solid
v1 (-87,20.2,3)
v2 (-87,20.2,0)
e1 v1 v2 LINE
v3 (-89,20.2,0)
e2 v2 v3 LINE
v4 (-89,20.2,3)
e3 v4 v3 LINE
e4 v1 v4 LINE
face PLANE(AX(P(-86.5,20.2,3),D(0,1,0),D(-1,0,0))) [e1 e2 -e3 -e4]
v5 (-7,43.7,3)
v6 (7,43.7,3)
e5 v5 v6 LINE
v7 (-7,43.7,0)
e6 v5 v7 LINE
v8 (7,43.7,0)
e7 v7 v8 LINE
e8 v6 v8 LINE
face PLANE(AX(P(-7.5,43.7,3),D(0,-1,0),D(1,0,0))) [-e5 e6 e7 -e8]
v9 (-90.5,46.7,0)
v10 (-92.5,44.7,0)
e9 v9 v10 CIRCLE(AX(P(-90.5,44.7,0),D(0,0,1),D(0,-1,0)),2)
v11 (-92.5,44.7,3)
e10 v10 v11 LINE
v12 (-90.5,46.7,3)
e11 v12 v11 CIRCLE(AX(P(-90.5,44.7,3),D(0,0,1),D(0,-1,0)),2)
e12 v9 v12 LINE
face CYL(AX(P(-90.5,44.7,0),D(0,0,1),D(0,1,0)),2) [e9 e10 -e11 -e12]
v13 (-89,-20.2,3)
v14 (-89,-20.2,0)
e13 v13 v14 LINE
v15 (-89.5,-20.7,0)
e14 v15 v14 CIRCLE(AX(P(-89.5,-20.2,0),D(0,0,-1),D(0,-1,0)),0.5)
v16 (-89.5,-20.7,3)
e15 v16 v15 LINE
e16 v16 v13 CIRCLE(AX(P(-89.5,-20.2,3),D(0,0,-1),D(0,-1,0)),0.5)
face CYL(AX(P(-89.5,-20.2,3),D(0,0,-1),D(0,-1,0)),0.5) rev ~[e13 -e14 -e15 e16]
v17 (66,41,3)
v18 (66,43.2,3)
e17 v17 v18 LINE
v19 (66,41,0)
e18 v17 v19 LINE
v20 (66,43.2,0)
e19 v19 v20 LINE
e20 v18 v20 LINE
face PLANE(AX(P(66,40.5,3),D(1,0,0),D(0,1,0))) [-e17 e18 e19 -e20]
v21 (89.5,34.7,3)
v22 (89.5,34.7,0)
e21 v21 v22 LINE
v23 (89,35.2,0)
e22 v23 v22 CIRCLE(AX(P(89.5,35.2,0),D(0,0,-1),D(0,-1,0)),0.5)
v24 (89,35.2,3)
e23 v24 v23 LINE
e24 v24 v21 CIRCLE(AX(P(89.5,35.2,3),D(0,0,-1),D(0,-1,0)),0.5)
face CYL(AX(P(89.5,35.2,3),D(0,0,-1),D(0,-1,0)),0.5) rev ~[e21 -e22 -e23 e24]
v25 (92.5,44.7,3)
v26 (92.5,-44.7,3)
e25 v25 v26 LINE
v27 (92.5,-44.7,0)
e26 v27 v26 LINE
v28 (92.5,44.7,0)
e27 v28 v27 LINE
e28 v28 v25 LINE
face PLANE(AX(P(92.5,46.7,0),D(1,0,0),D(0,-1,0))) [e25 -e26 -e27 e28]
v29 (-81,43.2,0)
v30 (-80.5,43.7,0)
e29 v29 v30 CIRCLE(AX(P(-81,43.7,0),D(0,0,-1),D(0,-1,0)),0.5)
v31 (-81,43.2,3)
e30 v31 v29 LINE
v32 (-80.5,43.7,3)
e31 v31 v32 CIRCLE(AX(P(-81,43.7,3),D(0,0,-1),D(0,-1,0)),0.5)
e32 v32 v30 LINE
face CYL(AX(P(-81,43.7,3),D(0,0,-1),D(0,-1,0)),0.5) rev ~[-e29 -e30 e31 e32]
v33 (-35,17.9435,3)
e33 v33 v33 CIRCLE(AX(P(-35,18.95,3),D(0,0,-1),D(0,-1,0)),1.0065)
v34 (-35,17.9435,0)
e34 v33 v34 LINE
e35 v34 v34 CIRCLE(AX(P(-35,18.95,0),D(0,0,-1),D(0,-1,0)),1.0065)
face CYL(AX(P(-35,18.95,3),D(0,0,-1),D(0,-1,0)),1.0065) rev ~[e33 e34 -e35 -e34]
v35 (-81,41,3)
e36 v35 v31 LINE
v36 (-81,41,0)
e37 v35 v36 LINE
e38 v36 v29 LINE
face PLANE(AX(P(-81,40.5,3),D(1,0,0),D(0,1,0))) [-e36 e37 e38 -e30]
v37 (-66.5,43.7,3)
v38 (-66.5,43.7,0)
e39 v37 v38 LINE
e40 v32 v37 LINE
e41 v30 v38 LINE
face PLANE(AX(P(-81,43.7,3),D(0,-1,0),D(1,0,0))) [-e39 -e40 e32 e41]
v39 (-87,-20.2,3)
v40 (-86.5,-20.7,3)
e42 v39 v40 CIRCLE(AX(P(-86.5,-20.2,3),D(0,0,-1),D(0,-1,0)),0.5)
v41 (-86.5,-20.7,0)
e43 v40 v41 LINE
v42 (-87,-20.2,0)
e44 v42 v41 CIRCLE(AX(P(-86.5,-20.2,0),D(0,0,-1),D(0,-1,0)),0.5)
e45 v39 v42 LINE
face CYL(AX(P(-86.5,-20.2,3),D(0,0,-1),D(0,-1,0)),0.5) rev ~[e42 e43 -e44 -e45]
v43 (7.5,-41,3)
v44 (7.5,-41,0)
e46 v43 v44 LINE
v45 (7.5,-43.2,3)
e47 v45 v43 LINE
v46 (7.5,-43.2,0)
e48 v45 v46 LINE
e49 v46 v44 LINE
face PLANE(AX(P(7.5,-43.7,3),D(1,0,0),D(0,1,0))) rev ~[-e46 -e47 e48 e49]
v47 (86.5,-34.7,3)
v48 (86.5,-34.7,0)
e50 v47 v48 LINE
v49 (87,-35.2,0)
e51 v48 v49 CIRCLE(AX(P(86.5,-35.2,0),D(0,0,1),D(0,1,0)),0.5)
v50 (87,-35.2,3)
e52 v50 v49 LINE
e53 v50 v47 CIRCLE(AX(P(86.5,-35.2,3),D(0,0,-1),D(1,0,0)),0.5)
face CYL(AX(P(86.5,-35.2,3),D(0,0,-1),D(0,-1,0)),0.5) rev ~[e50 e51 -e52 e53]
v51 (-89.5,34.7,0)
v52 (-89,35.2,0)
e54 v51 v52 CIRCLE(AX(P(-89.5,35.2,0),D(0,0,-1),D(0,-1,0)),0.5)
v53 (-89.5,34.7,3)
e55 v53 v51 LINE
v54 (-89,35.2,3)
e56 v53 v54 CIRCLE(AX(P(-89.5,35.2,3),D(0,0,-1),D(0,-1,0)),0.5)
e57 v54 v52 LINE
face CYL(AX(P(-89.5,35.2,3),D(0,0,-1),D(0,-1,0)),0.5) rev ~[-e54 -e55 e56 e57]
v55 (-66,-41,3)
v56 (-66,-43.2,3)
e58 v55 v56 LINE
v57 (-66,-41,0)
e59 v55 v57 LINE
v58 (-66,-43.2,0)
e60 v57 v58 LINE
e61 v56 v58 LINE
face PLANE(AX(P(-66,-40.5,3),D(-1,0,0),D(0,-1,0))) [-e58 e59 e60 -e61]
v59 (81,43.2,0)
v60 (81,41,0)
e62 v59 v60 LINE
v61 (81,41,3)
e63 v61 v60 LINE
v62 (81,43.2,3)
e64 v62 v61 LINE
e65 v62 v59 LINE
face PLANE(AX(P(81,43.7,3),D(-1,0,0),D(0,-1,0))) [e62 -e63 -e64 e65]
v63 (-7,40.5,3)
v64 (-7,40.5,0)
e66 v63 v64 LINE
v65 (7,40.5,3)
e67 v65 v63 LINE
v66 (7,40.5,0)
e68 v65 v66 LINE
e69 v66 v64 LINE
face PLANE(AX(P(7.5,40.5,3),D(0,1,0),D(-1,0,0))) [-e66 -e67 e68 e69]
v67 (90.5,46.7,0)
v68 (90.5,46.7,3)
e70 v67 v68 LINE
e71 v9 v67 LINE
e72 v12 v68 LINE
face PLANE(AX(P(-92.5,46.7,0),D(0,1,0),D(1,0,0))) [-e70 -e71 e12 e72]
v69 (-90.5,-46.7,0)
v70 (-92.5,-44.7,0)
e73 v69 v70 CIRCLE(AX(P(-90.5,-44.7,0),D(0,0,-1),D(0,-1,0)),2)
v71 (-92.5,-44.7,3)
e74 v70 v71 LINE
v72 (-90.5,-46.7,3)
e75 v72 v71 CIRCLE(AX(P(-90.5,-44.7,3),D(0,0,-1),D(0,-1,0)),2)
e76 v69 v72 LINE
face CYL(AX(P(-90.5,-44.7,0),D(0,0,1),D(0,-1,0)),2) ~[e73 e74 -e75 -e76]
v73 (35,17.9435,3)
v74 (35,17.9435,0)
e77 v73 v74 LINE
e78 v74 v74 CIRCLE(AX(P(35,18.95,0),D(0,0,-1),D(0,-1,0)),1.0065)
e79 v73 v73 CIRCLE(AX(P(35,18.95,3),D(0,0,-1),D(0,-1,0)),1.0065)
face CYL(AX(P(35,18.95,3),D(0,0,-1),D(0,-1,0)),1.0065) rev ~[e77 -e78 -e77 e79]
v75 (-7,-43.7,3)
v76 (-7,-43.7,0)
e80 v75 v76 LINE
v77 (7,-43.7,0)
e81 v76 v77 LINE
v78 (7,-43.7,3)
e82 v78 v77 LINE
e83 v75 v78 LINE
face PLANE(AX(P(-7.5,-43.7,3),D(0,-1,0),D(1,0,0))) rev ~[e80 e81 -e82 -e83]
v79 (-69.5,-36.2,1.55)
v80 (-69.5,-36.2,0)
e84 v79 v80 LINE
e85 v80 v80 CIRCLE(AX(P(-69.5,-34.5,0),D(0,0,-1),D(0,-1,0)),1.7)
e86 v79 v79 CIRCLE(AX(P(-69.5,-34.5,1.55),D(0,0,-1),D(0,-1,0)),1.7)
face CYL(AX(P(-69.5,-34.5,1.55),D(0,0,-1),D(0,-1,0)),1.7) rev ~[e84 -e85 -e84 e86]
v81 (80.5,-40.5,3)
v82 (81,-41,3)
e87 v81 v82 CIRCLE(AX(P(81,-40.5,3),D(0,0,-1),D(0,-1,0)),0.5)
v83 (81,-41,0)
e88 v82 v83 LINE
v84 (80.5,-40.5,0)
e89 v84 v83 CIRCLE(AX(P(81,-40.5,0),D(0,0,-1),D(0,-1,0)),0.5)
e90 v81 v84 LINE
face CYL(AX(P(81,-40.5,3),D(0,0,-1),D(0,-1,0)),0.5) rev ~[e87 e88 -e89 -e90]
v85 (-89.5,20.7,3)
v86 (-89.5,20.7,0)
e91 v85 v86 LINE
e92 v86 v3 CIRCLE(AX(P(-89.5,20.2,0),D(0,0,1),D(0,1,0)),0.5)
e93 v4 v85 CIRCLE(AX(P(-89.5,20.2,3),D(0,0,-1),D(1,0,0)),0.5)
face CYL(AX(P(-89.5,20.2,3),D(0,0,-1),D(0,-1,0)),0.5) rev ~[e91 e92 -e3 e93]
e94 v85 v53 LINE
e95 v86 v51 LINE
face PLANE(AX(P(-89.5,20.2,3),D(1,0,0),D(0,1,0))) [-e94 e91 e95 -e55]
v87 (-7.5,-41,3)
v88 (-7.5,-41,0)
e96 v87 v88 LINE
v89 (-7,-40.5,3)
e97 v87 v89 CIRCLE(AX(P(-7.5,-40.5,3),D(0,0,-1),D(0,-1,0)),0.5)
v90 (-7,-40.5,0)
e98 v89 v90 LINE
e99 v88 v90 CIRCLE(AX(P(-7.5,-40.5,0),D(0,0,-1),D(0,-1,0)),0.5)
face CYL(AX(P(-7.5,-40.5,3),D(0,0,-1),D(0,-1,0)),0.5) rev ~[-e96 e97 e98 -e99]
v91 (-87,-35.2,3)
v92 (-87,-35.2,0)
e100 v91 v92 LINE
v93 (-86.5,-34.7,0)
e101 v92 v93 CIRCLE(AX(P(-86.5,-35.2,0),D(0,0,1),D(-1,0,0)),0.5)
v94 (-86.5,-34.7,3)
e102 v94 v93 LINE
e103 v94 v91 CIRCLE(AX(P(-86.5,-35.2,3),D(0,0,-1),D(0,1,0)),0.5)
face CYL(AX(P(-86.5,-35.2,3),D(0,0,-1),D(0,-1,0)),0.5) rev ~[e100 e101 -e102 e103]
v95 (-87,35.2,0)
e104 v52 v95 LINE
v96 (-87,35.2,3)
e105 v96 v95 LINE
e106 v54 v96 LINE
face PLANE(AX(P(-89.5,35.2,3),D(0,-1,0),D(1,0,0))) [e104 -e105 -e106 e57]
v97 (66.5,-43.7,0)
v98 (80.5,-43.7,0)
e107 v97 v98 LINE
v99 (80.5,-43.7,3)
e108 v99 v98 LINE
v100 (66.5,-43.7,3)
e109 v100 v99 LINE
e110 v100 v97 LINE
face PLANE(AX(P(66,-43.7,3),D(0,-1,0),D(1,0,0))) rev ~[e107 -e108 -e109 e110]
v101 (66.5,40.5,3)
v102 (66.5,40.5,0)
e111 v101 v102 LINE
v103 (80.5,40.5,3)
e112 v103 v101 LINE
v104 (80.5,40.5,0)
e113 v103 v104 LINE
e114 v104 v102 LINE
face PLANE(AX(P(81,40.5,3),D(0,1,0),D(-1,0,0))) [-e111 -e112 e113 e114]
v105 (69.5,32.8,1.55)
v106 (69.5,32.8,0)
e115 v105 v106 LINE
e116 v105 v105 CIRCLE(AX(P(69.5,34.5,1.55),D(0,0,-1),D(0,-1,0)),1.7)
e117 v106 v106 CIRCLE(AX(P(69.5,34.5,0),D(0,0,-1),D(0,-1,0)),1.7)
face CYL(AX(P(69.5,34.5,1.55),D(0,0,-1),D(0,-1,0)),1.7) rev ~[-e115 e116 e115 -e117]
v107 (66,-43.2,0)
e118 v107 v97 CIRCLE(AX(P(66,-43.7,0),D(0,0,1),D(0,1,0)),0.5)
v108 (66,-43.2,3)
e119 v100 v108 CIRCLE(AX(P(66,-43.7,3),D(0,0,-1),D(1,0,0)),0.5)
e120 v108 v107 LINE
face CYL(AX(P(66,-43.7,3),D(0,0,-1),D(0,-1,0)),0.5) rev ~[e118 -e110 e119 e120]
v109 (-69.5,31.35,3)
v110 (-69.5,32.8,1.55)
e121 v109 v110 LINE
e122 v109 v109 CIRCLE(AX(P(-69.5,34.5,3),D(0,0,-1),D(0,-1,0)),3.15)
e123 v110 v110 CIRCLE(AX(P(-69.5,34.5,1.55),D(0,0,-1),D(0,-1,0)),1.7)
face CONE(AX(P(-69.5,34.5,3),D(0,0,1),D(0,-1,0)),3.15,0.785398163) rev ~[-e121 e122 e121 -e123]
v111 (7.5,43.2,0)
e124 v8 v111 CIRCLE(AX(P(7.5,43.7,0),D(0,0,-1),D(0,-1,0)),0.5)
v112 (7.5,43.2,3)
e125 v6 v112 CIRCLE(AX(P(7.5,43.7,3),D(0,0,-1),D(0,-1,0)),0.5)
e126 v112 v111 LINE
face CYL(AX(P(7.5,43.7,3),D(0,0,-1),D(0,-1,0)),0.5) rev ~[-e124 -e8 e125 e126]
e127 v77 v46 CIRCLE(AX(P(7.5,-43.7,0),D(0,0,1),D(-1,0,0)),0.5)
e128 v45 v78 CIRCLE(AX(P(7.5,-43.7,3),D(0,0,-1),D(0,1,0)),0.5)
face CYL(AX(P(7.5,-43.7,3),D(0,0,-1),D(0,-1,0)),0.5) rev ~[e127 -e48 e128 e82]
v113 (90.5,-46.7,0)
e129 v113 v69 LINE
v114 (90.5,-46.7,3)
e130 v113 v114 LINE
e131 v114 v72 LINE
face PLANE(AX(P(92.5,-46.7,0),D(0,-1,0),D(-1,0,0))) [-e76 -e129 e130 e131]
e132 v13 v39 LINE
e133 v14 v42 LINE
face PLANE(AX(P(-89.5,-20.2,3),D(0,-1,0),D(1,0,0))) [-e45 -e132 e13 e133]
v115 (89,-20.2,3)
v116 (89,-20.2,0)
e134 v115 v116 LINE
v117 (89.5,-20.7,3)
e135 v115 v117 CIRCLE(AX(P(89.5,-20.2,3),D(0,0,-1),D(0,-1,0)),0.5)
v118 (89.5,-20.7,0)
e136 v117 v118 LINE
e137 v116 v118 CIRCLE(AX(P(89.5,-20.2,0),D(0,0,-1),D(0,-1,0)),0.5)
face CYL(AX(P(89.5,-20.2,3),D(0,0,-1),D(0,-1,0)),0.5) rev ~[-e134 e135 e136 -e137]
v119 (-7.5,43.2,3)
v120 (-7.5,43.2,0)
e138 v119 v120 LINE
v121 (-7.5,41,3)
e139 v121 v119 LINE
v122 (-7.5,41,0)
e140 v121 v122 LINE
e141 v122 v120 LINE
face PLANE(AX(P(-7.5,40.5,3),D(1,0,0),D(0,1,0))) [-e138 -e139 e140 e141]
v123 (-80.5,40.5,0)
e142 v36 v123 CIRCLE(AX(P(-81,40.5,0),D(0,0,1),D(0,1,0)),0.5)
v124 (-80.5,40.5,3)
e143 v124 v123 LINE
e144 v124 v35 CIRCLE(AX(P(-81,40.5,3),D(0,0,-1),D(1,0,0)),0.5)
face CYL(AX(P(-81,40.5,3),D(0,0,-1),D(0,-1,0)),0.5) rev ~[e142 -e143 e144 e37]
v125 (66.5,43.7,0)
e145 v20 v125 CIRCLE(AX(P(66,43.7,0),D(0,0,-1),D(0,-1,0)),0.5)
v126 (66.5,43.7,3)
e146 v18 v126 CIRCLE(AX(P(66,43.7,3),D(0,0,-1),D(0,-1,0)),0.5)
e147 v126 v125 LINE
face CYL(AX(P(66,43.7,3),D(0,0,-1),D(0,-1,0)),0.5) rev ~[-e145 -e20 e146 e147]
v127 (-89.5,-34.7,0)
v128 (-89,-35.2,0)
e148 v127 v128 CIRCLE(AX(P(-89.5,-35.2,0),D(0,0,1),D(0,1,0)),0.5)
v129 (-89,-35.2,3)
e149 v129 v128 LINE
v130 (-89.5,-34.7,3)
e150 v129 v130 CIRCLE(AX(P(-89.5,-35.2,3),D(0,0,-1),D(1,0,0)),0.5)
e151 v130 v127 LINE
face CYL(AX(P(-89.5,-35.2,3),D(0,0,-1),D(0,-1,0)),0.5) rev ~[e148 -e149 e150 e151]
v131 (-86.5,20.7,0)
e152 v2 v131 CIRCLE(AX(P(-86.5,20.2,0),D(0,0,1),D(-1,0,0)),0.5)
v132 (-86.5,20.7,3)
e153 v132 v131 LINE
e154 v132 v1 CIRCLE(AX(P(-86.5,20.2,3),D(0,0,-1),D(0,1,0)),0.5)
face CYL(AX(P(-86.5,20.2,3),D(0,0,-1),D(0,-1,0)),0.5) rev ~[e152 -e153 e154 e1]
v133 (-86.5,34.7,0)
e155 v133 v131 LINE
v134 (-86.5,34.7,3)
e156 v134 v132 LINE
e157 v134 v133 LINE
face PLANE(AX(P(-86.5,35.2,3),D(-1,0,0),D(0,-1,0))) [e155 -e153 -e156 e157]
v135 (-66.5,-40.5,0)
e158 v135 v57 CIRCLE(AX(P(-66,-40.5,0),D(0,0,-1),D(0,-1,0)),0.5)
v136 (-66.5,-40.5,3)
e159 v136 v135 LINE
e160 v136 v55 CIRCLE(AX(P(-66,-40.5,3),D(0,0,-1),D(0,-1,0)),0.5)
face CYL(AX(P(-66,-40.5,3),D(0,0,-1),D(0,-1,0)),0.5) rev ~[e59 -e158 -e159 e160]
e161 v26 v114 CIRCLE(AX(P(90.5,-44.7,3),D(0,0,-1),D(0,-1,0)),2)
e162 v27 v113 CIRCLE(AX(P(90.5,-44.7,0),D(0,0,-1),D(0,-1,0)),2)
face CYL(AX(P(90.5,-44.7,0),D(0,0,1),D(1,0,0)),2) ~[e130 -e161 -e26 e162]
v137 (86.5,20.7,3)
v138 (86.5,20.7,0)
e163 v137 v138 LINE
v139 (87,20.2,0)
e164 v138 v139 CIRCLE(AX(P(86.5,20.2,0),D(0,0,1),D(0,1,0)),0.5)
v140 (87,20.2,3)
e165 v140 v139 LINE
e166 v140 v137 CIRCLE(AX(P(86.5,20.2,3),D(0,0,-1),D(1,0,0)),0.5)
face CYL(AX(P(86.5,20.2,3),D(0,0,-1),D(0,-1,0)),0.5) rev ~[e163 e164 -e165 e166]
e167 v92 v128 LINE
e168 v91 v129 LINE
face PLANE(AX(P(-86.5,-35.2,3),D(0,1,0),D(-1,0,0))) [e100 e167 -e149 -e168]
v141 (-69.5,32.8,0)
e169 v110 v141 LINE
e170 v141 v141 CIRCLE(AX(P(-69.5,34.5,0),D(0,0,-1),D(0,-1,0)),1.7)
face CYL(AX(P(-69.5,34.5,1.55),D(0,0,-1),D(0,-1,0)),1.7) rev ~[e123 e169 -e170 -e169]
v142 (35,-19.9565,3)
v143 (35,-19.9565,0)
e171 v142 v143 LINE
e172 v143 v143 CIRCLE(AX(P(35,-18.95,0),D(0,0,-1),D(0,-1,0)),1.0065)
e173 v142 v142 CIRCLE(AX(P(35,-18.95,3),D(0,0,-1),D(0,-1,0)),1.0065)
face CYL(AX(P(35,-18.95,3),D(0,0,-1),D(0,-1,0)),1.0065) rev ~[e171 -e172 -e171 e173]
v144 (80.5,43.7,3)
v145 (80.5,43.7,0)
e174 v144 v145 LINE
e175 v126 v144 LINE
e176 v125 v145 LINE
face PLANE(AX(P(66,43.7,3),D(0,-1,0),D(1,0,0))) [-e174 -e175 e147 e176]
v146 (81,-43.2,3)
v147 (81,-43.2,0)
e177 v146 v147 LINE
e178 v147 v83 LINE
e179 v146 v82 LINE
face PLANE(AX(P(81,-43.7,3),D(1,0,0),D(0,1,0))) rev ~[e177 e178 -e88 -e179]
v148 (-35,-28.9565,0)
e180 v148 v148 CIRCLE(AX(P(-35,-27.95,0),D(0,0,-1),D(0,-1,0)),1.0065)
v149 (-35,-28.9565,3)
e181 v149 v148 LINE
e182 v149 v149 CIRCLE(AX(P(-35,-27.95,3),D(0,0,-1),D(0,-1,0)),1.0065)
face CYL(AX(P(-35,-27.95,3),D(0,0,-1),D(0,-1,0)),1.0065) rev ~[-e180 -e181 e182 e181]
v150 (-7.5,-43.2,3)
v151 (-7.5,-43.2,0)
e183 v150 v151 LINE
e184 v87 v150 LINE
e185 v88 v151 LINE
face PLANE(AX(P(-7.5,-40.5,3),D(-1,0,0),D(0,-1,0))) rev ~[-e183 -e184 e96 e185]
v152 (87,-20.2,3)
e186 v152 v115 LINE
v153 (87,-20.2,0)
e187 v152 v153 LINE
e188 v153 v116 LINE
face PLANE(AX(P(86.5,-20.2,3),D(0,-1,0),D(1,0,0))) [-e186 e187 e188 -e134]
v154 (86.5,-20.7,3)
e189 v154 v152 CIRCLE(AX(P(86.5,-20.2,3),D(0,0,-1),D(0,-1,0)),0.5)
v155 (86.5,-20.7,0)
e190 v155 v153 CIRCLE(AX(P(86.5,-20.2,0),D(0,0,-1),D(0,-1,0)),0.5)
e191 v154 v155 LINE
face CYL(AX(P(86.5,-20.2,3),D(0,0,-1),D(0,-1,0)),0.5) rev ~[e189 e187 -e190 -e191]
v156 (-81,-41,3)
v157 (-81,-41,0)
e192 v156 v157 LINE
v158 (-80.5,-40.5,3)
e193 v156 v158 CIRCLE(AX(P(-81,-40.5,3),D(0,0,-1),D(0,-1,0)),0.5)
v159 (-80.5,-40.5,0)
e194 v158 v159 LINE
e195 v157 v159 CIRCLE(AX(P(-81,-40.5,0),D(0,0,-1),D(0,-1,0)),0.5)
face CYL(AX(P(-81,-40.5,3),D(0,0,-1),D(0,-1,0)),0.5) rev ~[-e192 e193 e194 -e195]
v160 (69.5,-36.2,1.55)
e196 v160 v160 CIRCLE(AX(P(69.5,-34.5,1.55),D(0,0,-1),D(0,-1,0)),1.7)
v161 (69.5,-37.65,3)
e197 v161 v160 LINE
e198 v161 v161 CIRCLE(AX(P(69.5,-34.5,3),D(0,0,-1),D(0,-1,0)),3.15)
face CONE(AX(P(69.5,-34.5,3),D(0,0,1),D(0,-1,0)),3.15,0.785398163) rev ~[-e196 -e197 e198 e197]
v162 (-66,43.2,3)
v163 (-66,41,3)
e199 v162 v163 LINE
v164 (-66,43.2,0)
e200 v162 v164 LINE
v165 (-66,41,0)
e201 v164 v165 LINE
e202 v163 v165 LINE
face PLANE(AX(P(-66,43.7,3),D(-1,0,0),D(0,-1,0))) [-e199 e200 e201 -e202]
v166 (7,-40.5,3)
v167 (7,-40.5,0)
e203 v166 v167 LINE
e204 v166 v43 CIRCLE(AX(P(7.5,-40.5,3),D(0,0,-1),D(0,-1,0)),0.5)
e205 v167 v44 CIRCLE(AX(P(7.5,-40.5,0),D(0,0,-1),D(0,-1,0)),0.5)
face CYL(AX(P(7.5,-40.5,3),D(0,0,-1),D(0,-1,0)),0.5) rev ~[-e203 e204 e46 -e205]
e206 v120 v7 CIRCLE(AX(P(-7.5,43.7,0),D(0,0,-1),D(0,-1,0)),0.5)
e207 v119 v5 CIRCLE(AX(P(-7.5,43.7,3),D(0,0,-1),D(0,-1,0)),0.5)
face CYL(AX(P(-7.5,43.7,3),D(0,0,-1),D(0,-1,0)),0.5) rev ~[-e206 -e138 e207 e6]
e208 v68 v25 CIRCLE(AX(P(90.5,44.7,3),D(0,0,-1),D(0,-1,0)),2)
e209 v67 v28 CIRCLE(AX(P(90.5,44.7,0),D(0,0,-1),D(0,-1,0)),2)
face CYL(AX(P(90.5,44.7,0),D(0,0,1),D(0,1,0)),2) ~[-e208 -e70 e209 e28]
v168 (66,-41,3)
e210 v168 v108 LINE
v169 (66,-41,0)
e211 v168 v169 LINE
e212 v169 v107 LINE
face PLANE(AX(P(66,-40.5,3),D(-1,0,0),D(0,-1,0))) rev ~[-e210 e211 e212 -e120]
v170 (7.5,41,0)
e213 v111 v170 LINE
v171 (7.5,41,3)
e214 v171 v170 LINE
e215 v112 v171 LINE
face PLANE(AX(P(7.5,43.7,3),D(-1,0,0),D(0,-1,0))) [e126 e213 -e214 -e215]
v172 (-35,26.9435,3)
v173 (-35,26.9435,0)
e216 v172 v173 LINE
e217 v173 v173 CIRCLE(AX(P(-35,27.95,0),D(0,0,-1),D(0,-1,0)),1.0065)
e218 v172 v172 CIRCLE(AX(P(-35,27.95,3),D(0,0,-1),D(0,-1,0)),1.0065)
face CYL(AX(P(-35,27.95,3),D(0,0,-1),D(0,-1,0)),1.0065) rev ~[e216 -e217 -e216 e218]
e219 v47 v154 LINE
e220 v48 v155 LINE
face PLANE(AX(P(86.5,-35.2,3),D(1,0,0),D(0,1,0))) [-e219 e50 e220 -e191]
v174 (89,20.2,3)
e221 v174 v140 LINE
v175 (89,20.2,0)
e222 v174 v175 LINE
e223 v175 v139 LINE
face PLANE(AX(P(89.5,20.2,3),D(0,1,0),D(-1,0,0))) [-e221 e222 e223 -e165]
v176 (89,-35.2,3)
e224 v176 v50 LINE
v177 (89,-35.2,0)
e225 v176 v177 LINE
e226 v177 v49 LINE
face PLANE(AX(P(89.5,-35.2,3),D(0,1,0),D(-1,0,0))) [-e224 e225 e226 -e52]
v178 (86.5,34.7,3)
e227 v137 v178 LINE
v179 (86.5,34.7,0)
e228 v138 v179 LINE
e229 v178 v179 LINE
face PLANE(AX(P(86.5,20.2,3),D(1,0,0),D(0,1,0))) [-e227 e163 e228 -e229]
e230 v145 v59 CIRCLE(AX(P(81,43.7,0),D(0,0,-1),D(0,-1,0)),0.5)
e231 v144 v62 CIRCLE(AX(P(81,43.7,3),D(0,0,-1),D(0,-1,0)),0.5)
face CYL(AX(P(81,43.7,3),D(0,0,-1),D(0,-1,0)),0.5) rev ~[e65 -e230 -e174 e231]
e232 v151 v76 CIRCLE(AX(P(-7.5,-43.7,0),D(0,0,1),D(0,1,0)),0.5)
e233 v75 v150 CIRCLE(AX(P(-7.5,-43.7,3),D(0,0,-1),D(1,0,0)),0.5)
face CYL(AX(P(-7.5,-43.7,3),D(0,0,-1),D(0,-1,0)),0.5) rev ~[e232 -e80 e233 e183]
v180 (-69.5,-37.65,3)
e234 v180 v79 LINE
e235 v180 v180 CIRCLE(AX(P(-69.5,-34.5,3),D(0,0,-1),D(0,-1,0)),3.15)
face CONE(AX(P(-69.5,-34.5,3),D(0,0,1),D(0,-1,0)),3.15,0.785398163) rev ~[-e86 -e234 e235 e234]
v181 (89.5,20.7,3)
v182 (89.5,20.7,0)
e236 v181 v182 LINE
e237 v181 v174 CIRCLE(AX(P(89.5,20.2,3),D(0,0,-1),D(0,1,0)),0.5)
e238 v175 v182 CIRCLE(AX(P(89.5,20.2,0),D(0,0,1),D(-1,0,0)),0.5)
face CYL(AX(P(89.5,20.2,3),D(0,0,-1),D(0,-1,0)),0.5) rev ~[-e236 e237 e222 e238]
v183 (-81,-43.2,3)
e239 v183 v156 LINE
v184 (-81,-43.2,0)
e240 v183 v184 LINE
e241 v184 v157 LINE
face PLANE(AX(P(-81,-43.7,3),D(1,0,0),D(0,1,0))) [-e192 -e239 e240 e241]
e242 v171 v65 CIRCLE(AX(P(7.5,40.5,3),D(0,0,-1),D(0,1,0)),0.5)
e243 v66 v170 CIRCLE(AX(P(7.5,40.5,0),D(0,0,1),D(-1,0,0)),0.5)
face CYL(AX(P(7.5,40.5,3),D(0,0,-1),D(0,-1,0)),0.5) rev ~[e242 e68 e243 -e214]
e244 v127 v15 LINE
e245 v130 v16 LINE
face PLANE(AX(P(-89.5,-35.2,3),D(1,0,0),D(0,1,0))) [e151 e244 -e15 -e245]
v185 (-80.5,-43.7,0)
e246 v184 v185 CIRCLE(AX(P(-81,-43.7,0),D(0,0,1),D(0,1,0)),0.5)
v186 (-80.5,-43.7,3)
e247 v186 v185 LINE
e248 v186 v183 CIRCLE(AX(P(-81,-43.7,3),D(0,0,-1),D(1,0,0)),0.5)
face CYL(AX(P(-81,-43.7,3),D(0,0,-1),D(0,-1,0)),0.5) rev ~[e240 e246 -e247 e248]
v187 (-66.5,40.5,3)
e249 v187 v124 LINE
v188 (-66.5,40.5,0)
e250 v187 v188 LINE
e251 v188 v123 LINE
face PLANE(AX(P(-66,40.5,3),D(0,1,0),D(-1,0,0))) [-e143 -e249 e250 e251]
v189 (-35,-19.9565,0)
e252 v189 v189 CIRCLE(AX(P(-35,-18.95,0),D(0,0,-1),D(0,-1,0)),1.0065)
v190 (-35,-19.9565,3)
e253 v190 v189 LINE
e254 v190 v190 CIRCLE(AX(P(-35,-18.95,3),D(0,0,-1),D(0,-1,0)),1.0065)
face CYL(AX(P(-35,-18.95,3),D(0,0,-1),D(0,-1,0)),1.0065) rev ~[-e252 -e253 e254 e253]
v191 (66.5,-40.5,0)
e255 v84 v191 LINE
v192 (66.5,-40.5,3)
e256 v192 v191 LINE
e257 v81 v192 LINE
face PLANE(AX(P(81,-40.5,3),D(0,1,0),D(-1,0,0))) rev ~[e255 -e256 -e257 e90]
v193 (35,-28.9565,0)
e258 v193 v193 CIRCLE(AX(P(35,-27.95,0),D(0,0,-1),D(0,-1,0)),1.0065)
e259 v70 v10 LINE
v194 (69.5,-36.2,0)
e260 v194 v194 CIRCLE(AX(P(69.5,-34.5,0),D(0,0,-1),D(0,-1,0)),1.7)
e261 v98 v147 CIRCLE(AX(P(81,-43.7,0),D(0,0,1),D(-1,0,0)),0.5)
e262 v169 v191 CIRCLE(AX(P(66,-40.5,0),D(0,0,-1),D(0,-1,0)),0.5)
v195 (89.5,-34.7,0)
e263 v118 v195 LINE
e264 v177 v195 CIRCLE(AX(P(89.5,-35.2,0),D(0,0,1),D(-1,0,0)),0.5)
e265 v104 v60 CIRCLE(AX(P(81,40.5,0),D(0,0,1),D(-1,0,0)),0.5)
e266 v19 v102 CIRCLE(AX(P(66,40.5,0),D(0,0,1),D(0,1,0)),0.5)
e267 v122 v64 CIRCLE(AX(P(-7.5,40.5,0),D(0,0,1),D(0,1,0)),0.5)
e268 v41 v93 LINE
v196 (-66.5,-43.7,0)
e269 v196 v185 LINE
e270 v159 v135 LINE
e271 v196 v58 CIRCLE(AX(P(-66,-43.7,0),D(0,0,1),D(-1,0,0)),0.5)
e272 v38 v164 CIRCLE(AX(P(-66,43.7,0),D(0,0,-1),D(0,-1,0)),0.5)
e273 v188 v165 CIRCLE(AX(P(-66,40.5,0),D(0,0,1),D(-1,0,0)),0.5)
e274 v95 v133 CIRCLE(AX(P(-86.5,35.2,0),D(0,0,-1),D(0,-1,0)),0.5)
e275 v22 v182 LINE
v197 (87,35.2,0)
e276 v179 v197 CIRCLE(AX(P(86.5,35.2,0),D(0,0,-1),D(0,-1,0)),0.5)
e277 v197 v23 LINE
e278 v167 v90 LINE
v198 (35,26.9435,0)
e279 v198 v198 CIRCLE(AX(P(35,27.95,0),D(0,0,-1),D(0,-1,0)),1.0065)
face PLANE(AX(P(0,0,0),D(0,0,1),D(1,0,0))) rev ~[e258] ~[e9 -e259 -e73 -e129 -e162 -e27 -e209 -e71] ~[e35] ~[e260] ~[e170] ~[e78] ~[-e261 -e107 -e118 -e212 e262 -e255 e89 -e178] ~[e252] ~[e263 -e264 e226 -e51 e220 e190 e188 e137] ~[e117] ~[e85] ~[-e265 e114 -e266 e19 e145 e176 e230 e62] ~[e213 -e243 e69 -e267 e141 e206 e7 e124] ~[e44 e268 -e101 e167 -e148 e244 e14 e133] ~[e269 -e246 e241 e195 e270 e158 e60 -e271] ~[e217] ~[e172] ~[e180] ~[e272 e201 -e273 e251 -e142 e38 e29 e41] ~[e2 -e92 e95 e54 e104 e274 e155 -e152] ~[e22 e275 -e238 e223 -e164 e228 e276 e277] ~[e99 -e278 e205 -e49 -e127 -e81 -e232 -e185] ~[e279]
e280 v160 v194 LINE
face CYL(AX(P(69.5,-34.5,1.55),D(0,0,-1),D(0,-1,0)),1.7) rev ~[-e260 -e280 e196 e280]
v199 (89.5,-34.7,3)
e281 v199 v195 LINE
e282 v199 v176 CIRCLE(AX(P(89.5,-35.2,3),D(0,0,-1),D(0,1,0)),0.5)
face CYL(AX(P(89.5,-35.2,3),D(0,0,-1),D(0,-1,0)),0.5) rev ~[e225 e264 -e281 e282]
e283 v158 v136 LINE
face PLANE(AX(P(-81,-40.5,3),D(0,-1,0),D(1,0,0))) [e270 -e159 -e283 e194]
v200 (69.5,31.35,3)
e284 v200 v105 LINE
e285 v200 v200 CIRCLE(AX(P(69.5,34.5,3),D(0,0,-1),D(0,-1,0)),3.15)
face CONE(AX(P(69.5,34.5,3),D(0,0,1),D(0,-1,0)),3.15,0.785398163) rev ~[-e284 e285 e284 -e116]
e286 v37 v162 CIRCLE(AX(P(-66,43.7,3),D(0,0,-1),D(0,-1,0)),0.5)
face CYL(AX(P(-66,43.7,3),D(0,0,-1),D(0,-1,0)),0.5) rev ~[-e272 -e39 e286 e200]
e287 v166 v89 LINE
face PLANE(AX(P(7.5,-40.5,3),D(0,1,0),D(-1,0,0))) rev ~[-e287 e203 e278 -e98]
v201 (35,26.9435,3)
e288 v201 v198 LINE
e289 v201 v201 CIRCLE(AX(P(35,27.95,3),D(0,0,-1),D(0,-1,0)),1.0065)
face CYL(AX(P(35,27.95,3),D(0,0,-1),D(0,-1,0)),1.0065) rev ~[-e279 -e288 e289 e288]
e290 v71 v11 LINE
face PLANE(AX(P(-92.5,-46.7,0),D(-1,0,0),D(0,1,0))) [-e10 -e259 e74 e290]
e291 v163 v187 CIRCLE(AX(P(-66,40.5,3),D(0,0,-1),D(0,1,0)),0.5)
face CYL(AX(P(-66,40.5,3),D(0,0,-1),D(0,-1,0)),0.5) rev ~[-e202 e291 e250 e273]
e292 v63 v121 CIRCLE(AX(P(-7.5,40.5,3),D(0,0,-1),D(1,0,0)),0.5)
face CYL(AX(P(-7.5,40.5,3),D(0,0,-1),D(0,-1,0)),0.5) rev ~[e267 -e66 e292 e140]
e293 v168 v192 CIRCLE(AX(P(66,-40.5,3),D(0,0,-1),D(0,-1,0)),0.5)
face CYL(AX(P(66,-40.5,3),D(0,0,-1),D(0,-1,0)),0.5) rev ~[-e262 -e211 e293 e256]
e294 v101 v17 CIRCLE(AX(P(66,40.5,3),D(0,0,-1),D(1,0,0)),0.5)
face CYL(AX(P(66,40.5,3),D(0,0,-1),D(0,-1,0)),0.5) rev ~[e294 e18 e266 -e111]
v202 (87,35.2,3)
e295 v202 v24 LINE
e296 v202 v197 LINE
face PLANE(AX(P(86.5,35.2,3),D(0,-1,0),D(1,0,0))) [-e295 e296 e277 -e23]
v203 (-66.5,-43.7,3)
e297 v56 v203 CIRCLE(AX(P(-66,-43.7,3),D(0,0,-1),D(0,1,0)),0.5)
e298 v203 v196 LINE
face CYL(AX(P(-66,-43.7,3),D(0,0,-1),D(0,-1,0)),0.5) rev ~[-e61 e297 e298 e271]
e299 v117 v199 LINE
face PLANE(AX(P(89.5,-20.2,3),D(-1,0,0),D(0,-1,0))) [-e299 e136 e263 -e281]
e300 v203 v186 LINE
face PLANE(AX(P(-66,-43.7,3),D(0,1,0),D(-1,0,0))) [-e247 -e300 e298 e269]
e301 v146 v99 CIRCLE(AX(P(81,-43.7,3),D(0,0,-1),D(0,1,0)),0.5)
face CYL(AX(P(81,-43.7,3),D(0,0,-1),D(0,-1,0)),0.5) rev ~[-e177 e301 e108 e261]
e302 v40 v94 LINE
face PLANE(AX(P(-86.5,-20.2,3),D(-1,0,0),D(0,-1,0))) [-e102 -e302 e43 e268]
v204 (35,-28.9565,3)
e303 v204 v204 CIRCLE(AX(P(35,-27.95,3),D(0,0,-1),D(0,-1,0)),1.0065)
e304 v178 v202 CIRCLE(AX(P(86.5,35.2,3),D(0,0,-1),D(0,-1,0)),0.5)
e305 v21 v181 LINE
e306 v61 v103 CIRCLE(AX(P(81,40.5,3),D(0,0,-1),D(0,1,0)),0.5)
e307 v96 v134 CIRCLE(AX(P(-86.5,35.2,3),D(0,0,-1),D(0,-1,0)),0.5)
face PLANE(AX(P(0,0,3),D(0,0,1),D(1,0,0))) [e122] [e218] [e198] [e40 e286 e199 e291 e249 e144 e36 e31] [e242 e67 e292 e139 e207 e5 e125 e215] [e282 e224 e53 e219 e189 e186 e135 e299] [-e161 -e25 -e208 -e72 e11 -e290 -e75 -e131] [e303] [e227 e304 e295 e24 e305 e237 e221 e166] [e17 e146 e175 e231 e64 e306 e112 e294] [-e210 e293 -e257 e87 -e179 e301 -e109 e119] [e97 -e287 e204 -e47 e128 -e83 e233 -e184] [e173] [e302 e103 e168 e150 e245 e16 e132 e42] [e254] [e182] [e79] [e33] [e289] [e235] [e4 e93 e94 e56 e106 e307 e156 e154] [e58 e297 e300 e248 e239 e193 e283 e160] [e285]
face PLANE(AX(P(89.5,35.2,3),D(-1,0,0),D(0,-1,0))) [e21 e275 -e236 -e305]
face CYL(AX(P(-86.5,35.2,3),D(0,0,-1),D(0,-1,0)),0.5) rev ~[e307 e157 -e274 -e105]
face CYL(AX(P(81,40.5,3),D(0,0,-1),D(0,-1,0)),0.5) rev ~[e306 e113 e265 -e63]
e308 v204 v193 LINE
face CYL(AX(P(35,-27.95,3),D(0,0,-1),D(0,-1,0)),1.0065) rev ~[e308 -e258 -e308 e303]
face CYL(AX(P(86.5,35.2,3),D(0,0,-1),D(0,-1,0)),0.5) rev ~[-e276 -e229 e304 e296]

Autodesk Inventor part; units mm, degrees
ref_plane "Plan YZ" through (0, 0, 0) normal (1, 0, 0) x (0, 1, 0)
ref_plane "Plan XZ" through (0, 0, 0) normal (0, 1, 0) x (-1, 0, 0)
ref_plane "Plan XY" through (0, 0, 0) normal (0, 0, 1) x (1, 0, 0)
sketch "Esquisse1" plane through (0, 0, 0) normal (0, 0, 1) x (1, 0, 0)
  line L0 (-92.5, 46.7) -> (92.5, 46.7)
  line L1 (92.5, 46.7) -> (92.5, -46.7)
  line L2 (92.5, -46.7) -> (-92.5, -46.7)
  line L3 (-92.5, -46.7) -> (-92.5, 46.7)
  line L4 (0, -65.38) -> (0, 65.38) construction
  line L5 (-129.5, 0) -> (129.5, 0) construction
  point P0 (0, 0)
  dimension "d0" = 185
  dimension "d1" = 93.4
extrude "Extrusion1" add sketch "Esquisse1" along normal blind 3
fillet "Congé1" radius 2 4 edges at (-92.5, 46.7, 1.5) (92.5, 46.7, 1.5) (92.5, -46.7, 1.5) (-92.5, -46.7, 1.5)
sketch "Esquisse21" plane through (0, 0, 3) normal (0, 0, 1) x (1, 0, 0)
  line L0 (-131.9, 0) -> (129.9, 0) construction
  line L1 (0, -65.38) -> (0, 65.38) construction
  line L2 (-7.5, 43.7) -> (7.5, 43.7)
  line L3 (7.5, 43.7) -> (7.5, 40.5)
  line L4 (7.5, 40.5) -> (-7.5, 40.5)
  line L5 (-7.5, 40.5) -> (-7.5, 43.7)
  line L6 (-90.5, 46.7) -> (90.5, 46.7) construction
  line L7 (-81, 43.7) -> (-66, 43.7)
  line L8 (-66, 43.7) -> (-66, 40.5)
  line L9 (-66, 40.5) -> (-81, 40.5)
  line L10 (-81, 40.5) -> (-81, 43.7)
  line L11 (-92.5, -44.7) -> (-92.5, 44.7) construction
  line L12 (66, 43.7) -> (81, 43.7)
  line L13 (81, 43.7) -> (81, 40.5)
  line L14 (81, 40.5) -> (66, 40.5)
  line L15 (66, 40.5) -> (66, 43.7)
  line L16 (-81, -40.5) -> (-66, -40.5)
  line L17 (-66, -40.5) -> (-66, -43.7)
  line L18 (-66, -43.7) -> (-81, -43.7)
  line L19 (-81, -43.7) -> (-81, -40.5)
  line L20 (-7.5, -43.7) -> (7.5, -43.7)
  line L21 (7.5, -43.7) -> (7.5, -40.5)
  line L22 (7.5, -40.5) -> (-7.5, -40.5)
  line L23 (-7.5, -40.5) -> (-7.5, -43.7)
  line L24 (66, -43.7) -> (81, -43.7)
  line L25 (81, -43.7) -> (81, -40.5)
  line L26 (81, -40.5) -> (66, -40.5)
  line L27 (66, -40.5) -> (66, -43.7)
  point P0 (0, 0)
  dimension "d216" = 15
  dimension "d217" = 3.2
  dimension "d218" = 3
  dimension "d221" = 11.5
extrude "Extrusion8" cut sketch "Esquisse21" against normal through all
sketch "Esquisse23" plane through (0, 0, 3) normal (0, 0, 1) x (1, 0, 0)
  line L0 (0, -65.38) -> (0, 65.38) construction
  line L1 (-129.5, 0) -> (129.5, 0) construction
  point P0 (0, 0)
  point P1 (-69.5, 34.5)
  point P2 (69.5, 34.5)
  point P3 (69.5, -34.5)
  point P4 (-69.5, -34.5)
  dimension "d238" = 139
  dimension "d239" = 69
hole "Perçage11" at (-69.5, 34.5, 3) at (69.5, 34.5, 3) at (69.5, -34.5, 3) at (-69.5, -34.5, 3) direction (0, 0, -1) diameter 3.4 end through all countersink diameter 6.3 countersink angle 90 clearance for "Vis à tête plate fraisée ISO 2009/7046" size "M3" standard "ISO"
sketch "Esquisse24" plane through (0, 0, 3) normal (0, 0, 1) x (1, 0, 0)
  line L0 (0, -65.38) -> (0, 65.38) construction
  line L1 (-89.5, 35.2) -> (-86.5, 35.2)
  line L2 (-86.5, 35.2) -> (-86.5, 20.2)
  line L3 (-86.5, 20.2) -> (-89.5, 20.2)
  line L4 (-89.5, 20.2) -> (-89.5, 35.2)
  line L5 (-89.5, -20.2) -> (-86.5, -20.2)
  line L6 (-86.5, -20.2) -> (-86.5, -35.2)
  line L7 (-86.5, -35.2) -> (-89.5, -35.2)
  line L8 (-89.5, -35.2) -> (-89.5, -20.2)
  line L9 (89.5, -35.2) -> (86.5, -35.2)
  line L10 (86.5, -35.2) -> (86.5, -20.2)
  line L11 (86.5, -20.2) -> (89.5, -20.2)
  line L12 (89.5, -20.2) -> (89.5, -35.2)
  line L13 (86.5, 35.2) -> (89.5, 35.2)
  line L14 (89.5, 35.2) -> (89.5, 20.2)
  line L15 (89.5, 20.2) -> (86.5, 20.2)
  line L16 (86.5, 20.2) -> (86.5, 35.2)
  line L17 (-92.5, -44.7) -> (-92.5, 44.7) construction
  line L18 (-131.9, 0) -> (129.9, 0) construction
  line L19 (90.5, -46.7) -> (-90.5, -46.7) construction
  point P0 (0, 0)
  dimension "d248" = 15
  dimension "d249" = 3
  dimension "d250" = 3
  dimension "d251" = 11.5
extrude "Extrusion10" cut sketch "Esquisse24" against normal through all
sketch "Esquisse26" plane through (0, 0, 3) normal (0, 0, 1) x (1, 0, 0)
  line L0 (-89.5, 35.2) -> (-86.5, 35.2) construction
  line L1 (-89.5, 20.2) -> (-89.5, 35.2) construction
  line L2 (-86.5, 35.2) -> (-86.5, 20.2) construction
  line L3 (-86.5, 20.2) -> (-89.5, 20.2) construction
  line L4 (-66, 40.5) -> (-81, 40.5) construction
  line L5 (-81, 40.5) -> (-81, 43.7) construction
  line L6 (-81, 43.7) -> (-66, 43.7) construction
  line L7 (-66, 43.7) -> (-66, 40.5) construction
  line L8 (7.5, 40.5) -> (-7.5, 40.5) construction
  line L9 (-7.5, 40.5) -> (-7.5, 43.7) construction
  line L10 (-7.5, 43.7) -> (7.5, 43.7) construction
  line L11 (7.5, 43.7) -> (7.5, 40.5) construction
  line L12 (81, 40.5) -> (66, 40.5) construction
  line L13 (66, 40.5) -> (66, 43.7) construction
  line L14 (66, 43.7) -> (81, 43.7) construction
  line L15 (81, 43.7) -> (81, 40.5) construction
  line L16 (-89.5, -35.2) -> (-89.5, -20.2) construction
  line L17 (-89.5, -20.2) -> (-86.5, -20.2) construction
  line L18 (-86.5, -20.2) -> (-86.5, -35.2) construction
  line L19 (-86.5, -35.2) -> (-89.5, -35.2) construction
  line L20 (-81, -40.5) -> (-66, -40.5) construction
  line L21 (-81, -43.7) -> (-81, -40.5) construction
  line L22 (-66, -43.7) -> (-81, -43.7) construction
  line L23 (-66, -40.5) -> (-66, -43.7) construction
  line L24 (89.5, -20.2) -> (89.5, -35.2) construction
  line L25 (89.5, -35.2) -> (86.5, -35.2) construction
  line L26 (86.5, -35.2) -> (86.5, -20.2) construction
  line L27 (86.5, -20.2) -> (89.5, -20.2) construction
  line L28 (-89.5, 20.2) -> (-89.5, 35.2) construction
  line L29 (-89.5, 35.2) -> (-86.5, 35.2) construction
  line L30 (-86.5, 35.2) -> (-86.5, 20.2) construction
  line L31 (-86.5, 20.2) -> (-89.5, 20.2) construction
  line L32 (-89.5, -35.2) -> (-89.5, -20.2) construction
  line L33 (-89.5, -20.2) -> (-86.5, -20.2) construction
  line L34 (-86.5, -20.2) -> (-86.5, -35.2) construction
  line L35 (-86.5, -35.2) -> (-89.5, -35.2) construction
  line L36 (86.5, 20.2) -> (86.5, 35.2) construction
  line L37 (86.5, 35.2) -> (89.5, 35.2) construction
  line L38 (89.5, 35.2) -> (89.5, 20.2) construction
  line L39 (89.5, 20.2) -> (86.5, 20.2) construction
  circle A0 centre (69.5, -34.5) radius 3.15 construction
  circle A1 centre (-69.5, 34.5) radius 3.15 construction
  circle A2 centre (69.5, 34.5) radius 3.15 construction
  circle A3 centre (-69.5, -34.5) radius 3.15 construction
  line L40 (7.5, -40.5) -> (7.5, -43.7) construction
  line L41 (7.5, -43.7) -> (-7.5, -43.7) construction
  line L42 (-7.5, -43.7) -> (-7.5, -40.5) construction
  line L43 (-7.5, -40.5) -> (7.5, -40.5) construction
  line L44 (66, 40.5) -> (66, 43.7) construction
  line L45 (66, 43.7) -> (81, 43.7) construction
  line L46 (81, 43.7) -> (81, 40.5) construction
  line L47 (81, 40.5) -> (66, 40.5) construction
  line L48 (-7.5, 40.5) -> (-7.5, 43.7) construction
  line L49 (-7.5, 43.7) -> (7.5, 43.7) construction
  line L50 (7.5, 43.7) -> (7.5, 40.5) construction
  line L51 (7.5, 40.5) -> (-7.5, 40.5) construction
  line L52 (-81, 40.5) -> (-81, 43.7) construction
  line L53 (-81, 43.7) -> (-66, 43.7) construction
  line L54 (-66, 43.7) -> (-66, 40.5) construction
  line L55 (-66, 40.5) -> (-81, 40.5) construction
  line L56 (-81, -43.7) -> (-81, -40.5) construction
  line L57 (-81, -40.5) -> (-66, -40.5) construction
  line L58 (-66, -40.5) -> (-66, -43.7) construction
  line L59 (-66, -43.7) -> (-81, -43.7) construction
  line L60 (81, -40.5) -> (81, -43.7) construction
  line L61 (81, -43.7) -> (66, -43.7) construction
  line L62 (66, -43.7) -> (66, -40.5) construction
  line L63 (66, -40.5) -> (81, -40.5) construction
  arc A4 (-92.5, -44.7) -> (-90.5, -46.7) centre (-90.5, -44.7) ccw construction
  line L64 (90.5, -46.7) -> (-90.5, -46.7) construction
  arc A5 (90.5, -46.7) -> (92.5, -44.7) centre (90.5, -44.7) ccw construction
  line L65 (92.5, 44.7) -> (92.5, -44.7) construction
  arc A6 (92.5, 44.7) -> (90.5, 46.7) centre (90.5, 44.7) ccw construction
  line L66 (-90.5, 46.7) -> (90.5, 46.7) construction
  arc A7 (-90.5, 46.7) -> (-92.5, 44.7) centre (-90.5, 44.7) ccw construction
  line L67 (-92.5, -44.7) -> (-92.5, 44.7) construction
  point P0 (0, 0)
hole "Perçage12" at (-81, 40.5, 3) at (-81, 43.7, 3) at (-66, 40.5, 3) at (-66, 43.7, 3) at (-86.5, 35.2, 3) at (-89.5, 35.2, 3) at (-89.5, 20.2, 3) at (-86.5, 20.2, 3) at (-86.5, -20.2, 3) at (-89.5, -20.2, 3) at (-89.5, -35.2, 3) at (-86.5, -35.2, 3) at (-81, -40.5, 3) at (-81, -43.7, 3) at (-66, -43.7, 3) at (-66, -40.5, 3) at (-7.5, -43.7, 3) at (-7.5, -40.5, 3) at (7.5, -40.5, 3) at (7.5, -43.7, 3) at (66, -43.7, 3) at (66, -40.5, 3) at (81, -40.5, 3) at (81, -43.7, 3) at (86.5, -35.2, 3) at (86.5, -20.2, 3) at (89.5, -20.2, 3) at (89.5, -35.2, 3) at (86.5, 20.2, 3) at (89.5, 20.2, 3) at (86.5, 35.2, 3) at (89.5, 35.2, 3) at (81, 40.5, 3) at (66, 43.7, 3) at (66, 40.5, 3) at (81, 43.7, 3) at (-7.5, 43.7, 3) at (-7.5, 40.5, 3) at (7.5, 40.5, 3) at (7.5, 43.7, 3) direction (0, 0, -1) diameter 1 end through all
sketch "Esquisse27" plane through (0, 0, 3) normal (0, 0, 1) x (1, 0, 0)
  line L0 (90.5, -46.7) -> (-90.5, -46.7) projected
  line L1 (0, -65.38) -> (0, 65.38) construction
  line L2 (-129.5, 0) -> (129.5, 0) construction
  point P0 (0, 0)
  point P1 (35, -18.95)
  point P2 (35, -27.95)
  point P3 (-35, -18.95)
  point P4 (-35, -27.95)
  point P5 (35, 18.95)
  point P6 (35, 27.95)
  point P7 (-35, 18.95)
  point P8 (-35, 27.95)
  dimension "d263" = 9
  dimension "d265" = 37.9
  dimension "d266" = 70
hole "Perçage13" at (35, -18.95, 3) at (35, -27.95, 3) at (-35, -18.95, 3) at (-35, -27.95, 3) at (35, 18.95, 3) at (35, 27.95, 3) at (-35, 18.95, 3) at (-35, 27.95, 3) direction (0, 0, -1) diameter 2.013 end through all thread size "M2.5x0.45" class "6H" standard "ISO M"
properties part number "P1704_205" material "Plastique PMMA"
